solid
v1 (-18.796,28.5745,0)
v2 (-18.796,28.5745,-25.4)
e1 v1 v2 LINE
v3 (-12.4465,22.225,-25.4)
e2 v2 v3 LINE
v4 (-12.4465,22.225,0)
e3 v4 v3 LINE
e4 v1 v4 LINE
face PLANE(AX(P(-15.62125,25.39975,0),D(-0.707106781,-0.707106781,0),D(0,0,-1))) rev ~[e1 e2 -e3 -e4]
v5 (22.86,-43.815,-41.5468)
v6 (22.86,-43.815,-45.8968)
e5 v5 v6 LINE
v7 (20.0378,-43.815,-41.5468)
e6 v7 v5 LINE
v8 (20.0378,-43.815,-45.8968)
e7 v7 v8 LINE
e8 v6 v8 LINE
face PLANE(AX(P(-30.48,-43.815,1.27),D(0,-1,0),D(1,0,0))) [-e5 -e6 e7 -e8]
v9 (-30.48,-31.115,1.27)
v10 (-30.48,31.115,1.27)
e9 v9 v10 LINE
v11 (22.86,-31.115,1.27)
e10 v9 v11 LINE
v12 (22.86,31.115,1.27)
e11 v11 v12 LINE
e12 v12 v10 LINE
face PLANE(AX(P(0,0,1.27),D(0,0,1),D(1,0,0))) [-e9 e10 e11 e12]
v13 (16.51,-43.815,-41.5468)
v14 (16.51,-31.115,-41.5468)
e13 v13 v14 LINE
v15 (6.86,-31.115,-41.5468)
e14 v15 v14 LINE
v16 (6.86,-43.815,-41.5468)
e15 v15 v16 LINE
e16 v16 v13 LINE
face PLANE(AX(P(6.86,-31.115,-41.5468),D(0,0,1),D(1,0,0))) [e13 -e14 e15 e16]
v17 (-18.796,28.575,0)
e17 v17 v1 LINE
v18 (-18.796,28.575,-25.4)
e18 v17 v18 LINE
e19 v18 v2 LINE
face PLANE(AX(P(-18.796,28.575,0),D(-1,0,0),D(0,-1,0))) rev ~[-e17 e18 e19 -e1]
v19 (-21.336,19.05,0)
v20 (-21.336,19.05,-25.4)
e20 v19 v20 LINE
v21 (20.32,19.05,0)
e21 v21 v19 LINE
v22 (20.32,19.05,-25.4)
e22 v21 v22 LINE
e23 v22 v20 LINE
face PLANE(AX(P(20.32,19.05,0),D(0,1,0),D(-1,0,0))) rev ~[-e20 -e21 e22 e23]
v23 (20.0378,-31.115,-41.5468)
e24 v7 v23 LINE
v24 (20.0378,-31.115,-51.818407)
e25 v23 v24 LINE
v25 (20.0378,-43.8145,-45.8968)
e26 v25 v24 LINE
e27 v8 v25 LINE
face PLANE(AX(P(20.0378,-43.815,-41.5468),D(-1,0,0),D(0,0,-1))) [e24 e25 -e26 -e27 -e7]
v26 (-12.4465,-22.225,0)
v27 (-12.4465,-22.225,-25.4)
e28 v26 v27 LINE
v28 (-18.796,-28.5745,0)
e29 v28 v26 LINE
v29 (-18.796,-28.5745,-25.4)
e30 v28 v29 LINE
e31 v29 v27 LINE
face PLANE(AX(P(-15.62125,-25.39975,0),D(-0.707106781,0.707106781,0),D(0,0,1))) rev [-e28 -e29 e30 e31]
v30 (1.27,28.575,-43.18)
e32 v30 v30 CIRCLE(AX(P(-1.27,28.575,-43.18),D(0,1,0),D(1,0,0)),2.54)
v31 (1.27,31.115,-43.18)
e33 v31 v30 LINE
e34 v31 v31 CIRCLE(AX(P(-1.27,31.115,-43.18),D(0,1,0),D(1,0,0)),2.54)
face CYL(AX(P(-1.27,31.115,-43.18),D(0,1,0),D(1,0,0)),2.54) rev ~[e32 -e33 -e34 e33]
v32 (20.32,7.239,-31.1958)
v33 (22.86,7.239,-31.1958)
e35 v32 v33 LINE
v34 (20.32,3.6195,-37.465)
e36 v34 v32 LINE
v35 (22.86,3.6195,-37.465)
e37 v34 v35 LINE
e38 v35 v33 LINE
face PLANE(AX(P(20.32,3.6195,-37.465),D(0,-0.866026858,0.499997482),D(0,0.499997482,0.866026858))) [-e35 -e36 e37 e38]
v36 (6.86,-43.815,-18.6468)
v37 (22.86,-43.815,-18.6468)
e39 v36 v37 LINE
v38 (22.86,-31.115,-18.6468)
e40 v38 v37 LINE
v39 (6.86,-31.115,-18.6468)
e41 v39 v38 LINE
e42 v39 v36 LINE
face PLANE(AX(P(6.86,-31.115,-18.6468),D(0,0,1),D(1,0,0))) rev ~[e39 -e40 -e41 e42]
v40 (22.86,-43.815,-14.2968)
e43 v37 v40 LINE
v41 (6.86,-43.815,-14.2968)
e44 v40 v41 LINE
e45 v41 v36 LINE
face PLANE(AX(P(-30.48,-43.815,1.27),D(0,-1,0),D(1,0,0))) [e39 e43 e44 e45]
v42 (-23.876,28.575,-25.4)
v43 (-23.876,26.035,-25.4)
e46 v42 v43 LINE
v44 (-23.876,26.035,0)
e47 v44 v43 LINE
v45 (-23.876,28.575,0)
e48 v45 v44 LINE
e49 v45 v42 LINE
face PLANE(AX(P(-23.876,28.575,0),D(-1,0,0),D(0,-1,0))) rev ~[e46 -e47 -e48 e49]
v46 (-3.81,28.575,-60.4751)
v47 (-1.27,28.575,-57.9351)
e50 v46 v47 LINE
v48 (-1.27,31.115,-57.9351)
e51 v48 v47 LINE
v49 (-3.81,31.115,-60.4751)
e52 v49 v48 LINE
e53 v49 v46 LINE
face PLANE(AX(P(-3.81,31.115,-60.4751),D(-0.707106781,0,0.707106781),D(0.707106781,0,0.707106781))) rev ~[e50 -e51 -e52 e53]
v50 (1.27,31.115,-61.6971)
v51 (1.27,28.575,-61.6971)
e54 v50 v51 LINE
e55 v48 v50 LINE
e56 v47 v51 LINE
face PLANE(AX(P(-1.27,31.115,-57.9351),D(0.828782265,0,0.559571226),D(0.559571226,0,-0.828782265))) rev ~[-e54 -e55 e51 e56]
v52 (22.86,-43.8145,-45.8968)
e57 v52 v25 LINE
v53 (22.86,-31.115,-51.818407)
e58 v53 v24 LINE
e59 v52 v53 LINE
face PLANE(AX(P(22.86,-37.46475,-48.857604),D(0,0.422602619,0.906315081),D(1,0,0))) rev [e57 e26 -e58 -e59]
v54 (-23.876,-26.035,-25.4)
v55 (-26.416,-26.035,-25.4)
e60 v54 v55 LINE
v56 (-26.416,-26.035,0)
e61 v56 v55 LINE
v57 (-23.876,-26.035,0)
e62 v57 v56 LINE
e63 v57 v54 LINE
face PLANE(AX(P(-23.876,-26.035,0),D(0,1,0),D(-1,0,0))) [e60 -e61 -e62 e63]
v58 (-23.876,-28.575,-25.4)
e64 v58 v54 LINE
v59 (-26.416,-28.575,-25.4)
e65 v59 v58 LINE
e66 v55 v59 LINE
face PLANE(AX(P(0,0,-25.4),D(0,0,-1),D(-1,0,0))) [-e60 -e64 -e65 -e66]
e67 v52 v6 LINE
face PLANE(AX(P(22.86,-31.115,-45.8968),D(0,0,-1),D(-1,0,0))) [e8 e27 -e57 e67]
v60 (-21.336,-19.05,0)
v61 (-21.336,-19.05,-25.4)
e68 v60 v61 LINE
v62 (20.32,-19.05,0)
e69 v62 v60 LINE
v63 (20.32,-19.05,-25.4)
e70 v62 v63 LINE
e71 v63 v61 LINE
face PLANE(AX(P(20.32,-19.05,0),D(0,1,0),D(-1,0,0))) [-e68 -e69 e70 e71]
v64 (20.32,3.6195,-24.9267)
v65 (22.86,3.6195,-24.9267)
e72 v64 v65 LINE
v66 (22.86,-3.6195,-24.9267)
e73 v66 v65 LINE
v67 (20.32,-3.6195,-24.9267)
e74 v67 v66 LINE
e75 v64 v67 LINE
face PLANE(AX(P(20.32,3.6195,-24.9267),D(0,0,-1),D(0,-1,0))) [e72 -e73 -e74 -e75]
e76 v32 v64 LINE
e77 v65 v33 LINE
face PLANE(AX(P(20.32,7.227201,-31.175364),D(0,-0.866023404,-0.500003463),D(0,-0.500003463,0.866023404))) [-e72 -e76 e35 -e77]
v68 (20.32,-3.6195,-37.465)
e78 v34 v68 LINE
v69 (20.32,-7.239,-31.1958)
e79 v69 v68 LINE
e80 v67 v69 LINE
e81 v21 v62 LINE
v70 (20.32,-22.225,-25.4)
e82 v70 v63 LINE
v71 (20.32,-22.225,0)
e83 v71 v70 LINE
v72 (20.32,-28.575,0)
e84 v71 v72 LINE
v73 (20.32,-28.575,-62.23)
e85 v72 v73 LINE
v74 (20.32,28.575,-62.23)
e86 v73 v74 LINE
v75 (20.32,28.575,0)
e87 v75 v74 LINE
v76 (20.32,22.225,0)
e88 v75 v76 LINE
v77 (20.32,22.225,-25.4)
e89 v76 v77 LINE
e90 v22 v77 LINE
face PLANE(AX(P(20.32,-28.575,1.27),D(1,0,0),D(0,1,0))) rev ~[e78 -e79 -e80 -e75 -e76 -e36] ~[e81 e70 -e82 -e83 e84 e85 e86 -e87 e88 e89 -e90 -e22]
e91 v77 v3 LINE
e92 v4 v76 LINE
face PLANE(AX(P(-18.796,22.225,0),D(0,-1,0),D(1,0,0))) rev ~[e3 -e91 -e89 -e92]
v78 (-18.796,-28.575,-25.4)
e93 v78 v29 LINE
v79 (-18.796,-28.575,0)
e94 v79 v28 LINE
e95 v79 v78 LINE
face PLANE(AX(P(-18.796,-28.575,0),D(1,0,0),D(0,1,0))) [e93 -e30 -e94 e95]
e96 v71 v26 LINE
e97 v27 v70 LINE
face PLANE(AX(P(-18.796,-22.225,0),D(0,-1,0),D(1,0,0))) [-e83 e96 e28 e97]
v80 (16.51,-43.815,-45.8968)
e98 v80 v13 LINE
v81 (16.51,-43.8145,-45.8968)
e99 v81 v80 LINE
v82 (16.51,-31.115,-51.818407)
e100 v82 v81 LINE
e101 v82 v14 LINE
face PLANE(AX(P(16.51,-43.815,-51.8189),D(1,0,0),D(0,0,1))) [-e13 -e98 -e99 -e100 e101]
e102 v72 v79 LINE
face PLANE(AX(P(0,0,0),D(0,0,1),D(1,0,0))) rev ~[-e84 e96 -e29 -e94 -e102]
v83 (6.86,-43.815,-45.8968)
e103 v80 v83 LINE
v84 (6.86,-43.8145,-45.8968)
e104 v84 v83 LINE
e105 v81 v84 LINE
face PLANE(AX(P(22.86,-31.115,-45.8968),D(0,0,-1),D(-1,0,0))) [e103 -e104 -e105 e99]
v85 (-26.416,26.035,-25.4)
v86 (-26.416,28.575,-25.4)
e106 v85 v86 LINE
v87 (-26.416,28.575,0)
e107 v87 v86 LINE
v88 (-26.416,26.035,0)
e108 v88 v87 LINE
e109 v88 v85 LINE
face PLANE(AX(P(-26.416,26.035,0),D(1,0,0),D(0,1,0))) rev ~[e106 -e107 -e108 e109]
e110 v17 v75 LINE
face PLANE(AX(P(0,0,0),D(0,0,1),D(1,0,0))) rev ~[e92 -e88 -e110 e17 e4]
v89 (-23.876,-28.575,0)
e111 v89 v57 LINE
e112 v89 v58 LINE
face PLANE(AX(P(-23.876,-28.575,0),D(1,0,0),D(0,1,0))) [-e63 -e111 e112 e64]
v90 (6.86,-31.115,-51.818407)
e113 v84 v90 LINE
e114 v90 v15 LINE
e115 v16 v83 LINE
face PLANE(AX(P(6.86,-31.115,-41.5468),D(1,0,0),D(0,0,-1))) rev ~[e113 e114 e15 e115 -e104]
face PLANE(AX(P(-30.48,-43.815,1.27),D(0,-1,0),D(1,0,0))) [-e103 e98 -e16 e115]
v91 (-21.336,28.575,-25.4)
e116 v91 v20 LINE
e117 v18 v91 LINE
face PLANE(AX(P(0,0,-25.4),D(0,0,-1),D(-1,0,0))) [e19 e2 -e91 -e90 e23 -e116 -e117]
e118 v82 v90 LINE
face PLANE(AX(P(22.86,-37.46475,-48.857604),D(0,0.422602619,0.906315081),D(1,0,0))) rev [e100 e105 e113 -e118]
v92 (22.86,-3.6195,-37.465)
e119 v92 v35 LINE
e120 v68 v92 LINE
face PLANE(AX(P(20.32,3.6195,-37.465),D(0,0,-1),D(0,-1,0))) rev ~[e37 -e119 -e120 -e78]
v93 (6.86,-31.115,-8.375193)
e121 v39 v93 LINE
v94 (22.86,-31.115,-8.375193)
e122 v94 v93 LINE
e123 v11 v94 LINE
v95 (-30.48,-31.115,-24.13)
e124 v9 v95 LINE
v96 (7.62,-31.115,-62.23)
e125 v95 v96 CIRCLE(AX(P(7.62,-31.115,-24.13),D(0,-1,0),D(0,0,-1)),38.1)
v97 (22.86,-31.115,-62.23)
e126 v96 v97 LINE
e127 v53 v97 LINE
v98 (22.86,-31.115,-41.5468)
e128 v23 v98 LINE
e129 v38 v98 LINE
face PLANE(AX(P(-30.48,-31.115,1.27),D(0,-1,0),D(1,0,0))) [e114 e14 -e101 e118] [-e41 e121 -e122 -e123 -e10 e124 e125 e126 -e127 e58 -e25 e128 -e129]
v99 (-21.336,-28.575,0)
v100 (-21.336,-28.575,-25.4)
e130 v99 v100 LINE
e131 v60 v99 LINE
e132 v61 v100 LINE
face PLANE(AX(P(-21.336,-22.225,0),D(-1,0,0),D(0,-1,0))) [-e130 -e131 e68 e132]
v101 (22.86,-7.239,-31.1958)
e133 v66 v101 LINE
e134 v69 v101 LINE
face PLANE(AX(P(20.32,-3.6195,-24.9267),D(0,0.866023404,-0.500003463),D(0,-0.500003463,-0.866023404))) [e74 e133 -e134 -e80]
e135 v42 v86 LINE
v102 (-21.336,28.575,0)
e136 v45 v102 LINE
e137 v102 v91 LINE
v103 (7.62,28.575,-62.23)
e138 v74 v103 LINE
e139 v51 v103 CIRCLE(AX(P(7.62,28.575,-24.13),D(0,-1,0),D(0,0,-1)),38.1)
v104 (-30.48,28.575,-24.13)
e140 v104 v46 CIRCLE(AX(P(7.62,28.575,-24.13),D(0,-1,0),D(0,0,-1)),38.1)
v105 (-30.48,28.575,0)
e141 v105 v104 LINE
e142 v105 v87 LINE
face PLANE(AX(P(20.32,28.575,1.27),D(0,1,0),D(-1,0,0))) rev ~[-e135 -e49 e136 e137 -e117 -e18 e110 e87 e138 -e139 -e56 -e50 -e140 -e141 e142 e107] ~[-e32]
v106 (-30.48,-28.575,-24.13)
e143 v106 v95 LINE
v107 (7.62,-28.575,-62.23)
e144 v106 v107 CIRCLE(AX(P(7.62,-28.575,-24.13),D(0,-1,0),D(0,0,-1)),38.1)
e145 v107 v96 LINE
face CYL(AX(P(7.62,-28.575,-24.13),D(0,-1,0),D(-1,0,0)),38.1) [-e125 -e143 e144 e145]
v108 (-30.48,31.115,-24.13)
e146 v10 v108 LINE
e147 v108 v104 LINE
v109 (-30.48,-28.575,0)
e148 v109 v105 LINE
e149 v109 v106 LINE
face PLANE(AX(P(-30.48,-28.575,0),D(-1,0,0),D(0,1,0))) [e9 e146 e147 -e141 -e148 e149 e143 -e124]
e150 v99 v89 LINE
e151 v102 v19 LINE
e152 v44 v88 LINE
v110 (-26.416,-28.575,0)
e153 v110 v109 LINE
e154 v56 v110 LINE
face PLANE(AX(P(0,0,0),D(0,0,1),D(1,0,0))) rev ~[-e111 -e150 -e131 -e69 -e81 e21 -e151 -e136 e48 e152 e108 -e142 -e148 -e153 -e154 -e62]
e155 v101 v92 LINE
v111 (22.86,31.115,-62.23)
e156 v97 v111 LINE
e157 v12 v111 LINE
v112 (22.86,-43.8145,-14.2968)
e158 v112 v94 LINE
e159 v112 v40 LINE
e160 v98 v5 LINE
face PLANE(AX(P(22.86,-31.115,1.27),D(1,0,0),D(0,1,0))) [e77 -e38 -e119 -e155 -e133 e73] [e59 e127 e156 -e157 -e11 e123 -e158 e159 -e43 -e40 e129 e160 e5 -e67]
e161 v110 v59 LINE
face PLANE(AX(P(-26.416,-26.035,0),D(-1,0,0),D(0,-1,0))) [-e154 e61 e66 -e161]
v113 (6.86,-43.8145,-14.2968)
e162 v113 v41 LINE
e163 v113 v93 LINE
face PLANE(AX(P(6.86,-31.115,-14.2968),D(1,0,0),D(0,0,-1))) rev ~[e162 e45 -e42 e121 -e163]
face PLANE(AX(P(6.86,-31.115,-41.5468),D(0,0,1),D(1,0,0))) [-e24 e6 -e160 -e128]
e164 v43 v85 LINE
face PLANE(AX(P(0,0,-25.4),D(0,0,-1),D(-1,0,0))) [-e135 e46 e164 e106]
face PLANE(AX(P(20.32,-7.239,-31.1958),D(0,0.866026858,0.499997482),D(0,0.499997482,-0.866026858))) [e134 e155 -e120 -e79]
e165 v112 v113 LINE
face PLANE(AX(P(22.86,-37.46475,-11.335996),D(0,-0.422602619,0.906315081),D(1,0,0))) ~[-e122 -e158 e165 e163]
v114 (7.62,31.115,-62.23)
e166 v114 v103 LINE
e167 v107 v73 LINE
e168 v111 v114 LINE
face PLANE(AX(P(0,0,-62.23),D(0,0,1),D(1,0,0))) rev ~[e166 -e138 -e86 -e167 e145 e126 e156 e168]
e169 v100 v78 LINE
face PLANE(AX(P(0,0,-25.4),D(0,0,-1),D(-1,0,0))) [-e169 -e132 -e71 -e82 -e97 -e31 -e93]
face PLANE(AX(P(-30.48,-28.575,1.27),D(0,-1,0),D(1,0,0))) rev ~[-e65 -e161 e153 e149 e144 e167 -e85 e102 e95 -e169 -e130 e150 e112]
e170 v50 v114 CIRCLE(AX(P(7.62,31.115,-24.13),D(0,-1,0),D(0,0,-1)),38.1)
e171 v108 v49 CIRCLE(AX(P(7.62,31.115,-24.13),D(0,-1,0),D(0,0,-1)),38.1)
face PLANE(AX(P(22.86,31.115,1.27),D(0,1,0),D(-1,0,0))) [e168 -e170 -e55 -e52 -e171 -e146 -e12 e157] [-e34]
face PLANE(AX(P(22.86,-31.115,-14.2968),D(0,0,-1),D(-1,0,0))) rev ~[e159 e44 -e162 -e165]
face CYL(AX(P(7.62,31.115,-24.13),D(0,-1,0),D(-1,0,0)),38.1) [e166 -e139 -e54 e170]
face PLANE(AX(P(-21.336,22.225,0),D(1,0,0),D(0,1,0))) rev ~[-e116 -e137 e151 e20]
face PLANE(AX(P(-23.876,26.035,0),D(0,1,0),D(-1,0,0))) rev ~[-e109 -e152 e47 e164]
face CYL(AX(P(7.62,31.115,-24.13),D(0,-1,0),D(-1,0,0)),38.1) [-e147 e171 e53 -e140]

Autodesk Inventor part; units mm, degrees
ref_plane "YZ Plane" through (0, 0, 0) normal (1, 0, 0) x (0, 1, 0)
ref_plane "XZ Plane" through (0, 0, 0) normal (0, 1, 0) x (-1, 0, 0)
ref_plane "XY Plane" through (0, 0, 0) normal (0, 0, 1) x (1, 0, 0)
sketch "Sketch1" plane through (0, 0, 0) normal (0, 0, 1) x (1, 0, 0)
  line L0 (-30.48, 28.575) -> (20.32, 28.575)
  line L1 (20.32, 28.575) -> (20.32, -28.575)
  line L2 (20.32, -28.575) -> (-30.48, -28.575)
  line L3 (-30.48, -28.575) -> (-30.48, 28.575)
  line L4 (-25.4, 28.575) -> (25.4, -28.575) construction
  line L5 (25.4, 28.575) -> (-25.4, -28.575) construction
  line L6 (0, 0) -> (0, -19.5531)
  dimension "d0" = 50.8
  dimension "d1" = 57.15
  dimension "d2" = 20.32
  dimension "d3" = 0
extrude "Extrusion1" add sketch "Sketch1" along normal blind 1.27
sketch "Sketch2" plane through (0, 0, 1.27) normal (0, 0, 1) x (1, 0, 0)
  line L0 (-30.48, -28.575) -> (20.32, -28.575) projected
  line L1 (20.32, -28.575) -> (20.32, 28.575) projected
  line L2 (20.32, 28.575) -> (-30.48, 28.575) projected
  line L3 (-30.48, 28.575) -> (-30.48, -28.575) projected
  line L4 (20.32, 28.575) -> (-30.48, 28.575) projected
  line L5 (-30.48, -28.575) -> (20.32, -28.575) projected
  line L6 (20.32, 28.575) -> (-30.48, 28.575)
  line L7 (-30.48, 28.575) -> (-30.48, -28.575)
  line L8 (-30.48, -28.575) -> (20.32, -28.575)
  line L9 (20.32, -28.575) -> (20.32, 28.575)
  line L10 (22.86, 31.115) -> (-30.48, 31.115)
  line L11 (-30.48, -31.115) -> (22.86, -31.115)
  line L12 (22.86, -31.115) -> (22.86, 31.115)
  line L13 (-30.48, 31.115) -> (-30.48, 28.575)
  line L14 (-30.48, 28.575) -> (-30.48, -28.575) projected
  line L15 (-30.48, -28.575) -> (-30.48, -31.115)
  point P0 (0, 0)
  point P1 (-30.48, 28.575)
  dimension "d6" = 2.54
  dimension "d7" = 2.54
  dimension "d8" = 2.54
extrude "Extrusion2" add sketch "Sketch2" against normal blind 63.5 contours L0 L1 L2 L13 L10 L12 L11 L15
fillet "Fillet1" radius 38.1 2 edges at (-30.48, -29.845, -62.23) (-30.48, 29.845, -62.23)
sketch "Sketch3" plane through (0, 0, 0) normal (0, 0, -1) x (-1, 0, 0)
  line L0 (30.48, -28.575) -> (-20.32, -28.575) projected
  line L1 (30.48, 28.575) -> (30.48, -28.575) projected
  line L2 (-20.32, 28.575) -> (30.48, 28.575) projected
  line L3 (-20.32, -28.575) -> (-20.32, 28.575) projected
  line L4 (-7.62, -31.115) -> (30.48, -31.115) projected
  line L5 (30.48, -31.115) -> (30.48, -28.575) projected
  line L6 (30.48, -28.575) -> (-7.62, -28.575) projected
  line L7 (-7.62, -28.575) -> (-7.62, -31.115) projected
  line L8 (30.48, 31.115) -> (-7.62, 31.115) projected
  line L9 (-7.62, 31.115) -> (-7.62, 28.575) projected
  line L10 (30.48, 28.575) -> (30.48, 28.575) projected
  line L11 (30.48, 28.575) -> (30.48, 31.115) projected
  line L12 (-20.32, 28.575) -> (30.48, 28.575) projected
  line L13 (30.48, 28.575) -> (30.48, 28.575) projected
  line L14 (30.48, -28.575) -> (-20.32, -28.575) projected
  line L15 (26.416, -28.575) -> (23.876, -28.575)
  line L16 (23.876, -28.575) -> (23.876, -26.035)
  line L17 (23.876, -26.035) -> (26.416, -26.035)
  line L18 (26.416, -26.035) -> (26.416, -28.575)
  line L19 (21.336, -28.575) -> (18.796, -28.575)
  line L20 (18.796, -28.575) -> (18.796, -22.225)
  line L21 (18.796, -22.225) -> (21.336, -22.225)
  line L22 (21.336, -22.225) -> (21.336, -28.575)
  line L23 (-20.32, 28.575) -> (30.48, 28.575) projected
  line L24 (26.416, 28.575) -> (23.876, 28.575)
  line L25 (23.876, 28.575) -> (23.876, 26.035)
  line L26 (23.876, 26.035) -> (26.416, 26.035)
  line L27 (26.416, 26.035) -> (26.416, 28.575)
  line L28 (21.336, 28.575) -> (18.796, 28.575)
  line L29 (18.796, 28.575) -> (18.796, 22.225)
  line L30 (18.796, 22.225) -> (21.336, 22.225)
  line L31 (21.336, 22.225) -> (21.336, 28.575)
  point P0 (0, 0)
  point P1 (30.48, -26.035)
  point P2 (23.876, -28.575)
  point P3 (30.48, 26.035)
  point P4 (23.876, 28.575)
  point P5 (21.336, 28.575)
  point P6 (18.796, 28.575)
  dimension "d12" = 2.54
  dimension "d13" = 2.54
  dimension "d14" = 2.54
  dimension "d15" = 6.35
  dimension "d16" = 2.54
  dimension "d17" = 2.54
  dimension "d18" = 2.54
  dimension "d19" = 2.54
  dimension "d20" = 6.35
  dimension "d21" = 2.54
  dimension "d57" = 6.35
  dimension "d58" = 6.35
  dimension "d59" = 4.064
extrude "Extrusion3" add sketch "Sketch3" along normal blind 25.4 contours L0 L16 L17 L18 | L27 L26 L25 L2 | L0 L20 L21 L22 | L31 L30 L29 L2
sketch "Sketch4" plane through (-30.48, -31.115, 1.27) normal (0, -1, 0) x (1, 0, 0)
  arc A0 (35.54, -42.8168) -> (35.14, -42.4168) centre (35.14, -42.8168) ccw projected
  line L0 (35.54, -42.8168) -> (35.54, -47.1668) projected
  line L1 (35.54, -47.1668) -> (37.14, -47.1668) projected
  line L2 (37.14, -47.1668) -> (37.14, -42.8168) projected
  arc A1 (37.54, -42.4168) -> (37.14, -42.8168) centre (37.54, -42.8168) ccw projected
  line L3 (37.54, -42.4168) -> (53.14, -42.4168) projected
  line L4 (53.14, -42.4168) -> (53.14, -20.3168) projected
  line L5 (53.14, -20.3168) -> (37.54, -20.3168) projected
  arc A2 (37.14, -19.9168) -> (37.54, -20.3168) centre (37.54, -19.9168) ccw projected
  line L6 (37.14, -19.9168) -> (37.14, -15.5668) projected
  line L7 (37.14, -15.5668) -> (35.54, -15.5668) projected
  line L8 (35.54, -15.5668) -> (35.54, -19.9168) projected
  arc A3 (35.14, -20.3168) -> (35.54, -19.9168) centre (35.14, -19.9168) ccw projected
  line L9 (35.14, -20.3168) -> (31.04, -20.3168) projected
  line L10 (31.04, -20.3168) -> (31.04, -35.0805) projected
  spline S0 degree 3 poles (31.04, -35.0805) (31.04, -35.2107) (31.032, -35.3398) (31.0199, -35.4684) (31.0078, -35.597) (30.9913, -35.725) (30.9724, -35.8527) (30.9346, -36.1082) (30.8875, -36.3608) (30.84, -36.6168) knots 0 0 0 0 0.00039 0.00039 0.00039 0.000781 0.000781 0.000781 0.001562 0.001562 0.001562 0.001562 projected
  spline S1 degree 3 poles (30.84, -36.6168) (30.8871, -36.8706) (30.9346, -37.1252) (30.9724, -37.3806) (30.9913, -37.5084) (31.0077, -37.6365) (31.0199, -37.7651) (31.032, -37.8937) (31.04, -38.0228) (31.04, -38.153) knots -0.000015 -0.000015 -0.000015 -0.000015 0.000759 0.000759 0.000759 0.001147 0.001147 0.001147 0.001534 0.001534 0.001534 0.001534 projected
  line L11 (31.04, -38.153) -> (31.04, -42.4168) projected
  line L12 (31.04, -42.4168) -> (35.14, -42.4168) projected
  line L13 (37.34, -42.8168) -> (37.34, -47.1668) projected
  line L14 (37.34, -15.5668) -> (37.34, -19.9168) projected
  line L15 (37.34, -42.8168) -> (53.34, -42.8168)
  line L16 (53.34, -42.8168) -> (53.34, -47.1668)
  line L17 (53.34, -47.1668) -> (37.34, -47.1668)
  line L18 (37.34, -47.1668) -> (37.34, -42.8168)
  line L19 (37.34, -19.9168) -> (53.34, -19.9168)
  line L20 (53.34, -19.9168) -> (53.34, -15.5668)
  line L21 (53.34, -15.5668) -> (37.34, -15.5668)
  line L22 (37.34, -15.5668) -> (37.34, -19.9168)
  line L23 (53.34, 0) -> (53.34, -63.5) projected
  point P0 (30.48, -1.27)
  dimension "d33" = 0
  dimension "d34" = 0
extrude "Extrusion4" add sketch "Sketch4" along normal blind 12.7 contours L15 L16 L17 L13 | L19 L14 L21 L20
sketch "Sketch5" plane through (20.32, -28.575, 0) normal (-1, 0, 0) x (0, 0, 1)
  line L0 (0, 0) -> (0, 57.15) projected
  line L1 (0, 57.15) -> (-62.23, 57.15) projected
  line L2 (-62.23, 0) -> (-62.23, 57.15) projected
  line L3 (0, 0) -> (-62.23, 0) projected
  line L4 (-62.23, 59.69) -> (-62.23, -2.54) projected
  line L5 (-62.23, 28.575) -> (-2.2668, 28.575)
  line L6 (-31.1958, 28.575) -> (-31.115, 57.15)
  line L7 (-31.115, 57.15) -> (-37.465, 57.15)
  line L8 (0, 57.15) -> (-62.23, 57.15) projected
  line L9 (-37.465, 57.15) -> (-37.465, 0)
  line L10 (-62.23, 0) -> (-24.13, 0) projected
  line L11 (-37.465, 32.1945) -> (-31.1958, 35.814)
  line L12 (-31.1958, 35.814) -> (-24.9267, 32.1945)
  line L13 (-24.9267, 32.1945) -> (-24.9267, 24.9555)
  line L14 (-24.9267, 24.9555) -> (-31.1958, 21.336)
  line L15 (-31.1958, 21.336) -> (-37.465, 24.9555)
  line L16 (-37.465, 24.9555) -> (-37.465, 32.1945)
  point P0 (0, 28.575)
  point P1 (-37.465, 28.575)
  point P2 (-37.465, 32.1945)
  point P3 (-37.465, 24.9555)
  dimension "d28" = 57.15
  dimension "d30" = 6.35
  dimension "d67" = 7.239
extrude "Extrusion5" cut sketch "Sketch5" against normal blind 2.54 contours L12 L13 L5 L6 | L6 L5 L9 L11 L12 | L9 L5 L13 L14 L15
sketch "Sketch6" plane through (-30.48, 31.115, 1.27) normal (0, 1, 0) x (1, 0, 0)
  circle A0 centre (29.21, 44.45) radius 2.54
  line L0 (53.34, 0) -> (53.34, 63.5) projected
  line L1 (53.34, 0) -> (0, 0) projected
  point P0 (30.48, 1.27)
  dimension "d38" = 5.08
  dimension "d41" = 24.13
  dimension "d42" = 44.45
extrude "Extrusion6" cut sketch "Sketch6" against normal blind 2.54
chamfer "Chamfer3" distance 12.7 angle 25 1 edges at (14.86, -31.115, -45.8968) measured on face at (17.5267, -39.5817, -45.8968)
chamfer "Chamfer4" distance 12.7 angle 25 1 edges at (14.86, -31.115, -14.2968) measured on face at (17.5267, -39.5817, -14.2968)
sketch "Sketch8" plane through (-30.48, -43.815, 1.27) normal (0, -1, 0) x (1, 0, 0)
  line L0 (53.34, -42.8168) -> (37.34, -42.8168) projected
  line L1 (50.5178, -53.0889) -> (46.99, -53.0889)
  line L2 (46.99, -53.0889) -> (46.99, -42.8168)
  line L3 (46.99, -42.8168) -> (50.5178, -42.8168)
  line L4 (50.5178, -42.8168) -> (50.5178, -53.0889)
  line L5 (37.34, -53.0889) -> (53.34, -53.0889) projected
  line L6 (53.34, -53.0889) -> (53.34, -47.1668) projected
  point P0 (30.48, -1.27)
  dimension "d52" = 2.8222
  dimension "d53" = 6.35
extrude "Extrusion7" cut sketch "Sketch8" against normal blind 12.7
sketch "Sketch9" plane through (0, 0, 0) normal (0, 0, -1) x (-1, 0, 0)
  line L0 (18.796, -22.225) -> (21.336, -22.225) projected
  line L1 (21.336, -22.225) -> (21.336, -28.575) projected
  line L2 (23.876, -28.575) -> (21.336, -28.575) projected
  line L3 (23.876, -28.575) -> (23.876, -26.035) projected
  line L4 (23.876, -26.035) -> (26.416, -26.035) projected
  line L5 (26.416, -26.035) -> (26.416, -28.575) projected
  line L6 (30.48, -28.575) -> (26.416, -28.575) projected
  line L7 (30.48, 28.575) -> (30.48, -28.575) projected
  line L8 (26.416, 28.575) -> (30.48, 28.575) projected
  line L9 (26.416, 28.575) -> (26.416, 26.035) projected
  line L10 (26.416, 26.035) -> (23.876, 26.035) projected
  line L11 (23.876, 26.035) -> (23.876, 28.575) projected
  line L12 (21.336, 28.575) -> (23.876, 28.575) projected
  line L13 (21.336, 28.575) -> (21.336, 22.225) projected
  line L14 (21.336, 22.225) -> (18.796, 22.225) projected
  line L15 (-20.32, 28.575) -> (18.796, 28.575) projected
  line L16 (-20.32, -28.575) -> (-20.32, 28.575) projected
  line L17 (18.796, -28.575) -> (-20.32, -28.575) projected
  line L18 (18.796, -28.575) -> (18.796, -22.225) projected
  line L19 (18.796, 22.225) -> (18.796, 28.575) projected
  line L20 (-20.32, -28.575) -> (-20.32, 28.575) projected
  line L21 (21.336, -22.225) -> (-20.32, -22.225)
  line L22 (-20.32, -22.225) -> (-20.32, -19.05)
  line L23 (-20.32, -19.05) -> (21.336, -19.05)
  line L24 (21.336, -19.05) -> (21.336, -22.225)
  line L25 (21.336, 22.225) -> (-20.32, 22.225)
  line L26 (-20.32, 22.225) -> (-20.32, 19.05)
  line L27 (-20.32, 19.05) -> (21.336, 19.05)
  line L28 (21.336, 19.05) -> (21.336, 22.225)
  point P0 (0, 0)
  point P1 (-20.32, -22.225)
  dimension "d56" = 6.35
  dimension "d60" = 3.175
  dimension "d61" = 3.175
extrude "Extrusion8" add sketch "Sketch9" along normal blind 25.4 contours L21 L16 L23 L24 L0 | L16 L25 L14 L28 L27
chamfer "Chamfer5" distance 6.35 angle 45 2 edges at (-18.796, -22.225, -12.7) (-18.796, 22.225, -12.7)
sketch "Sketch10" plane through (-30.48, 31.115, 1.27) normal (0, 1, 0) x (1, 0, 0)
  circle A0 centre (29.21, 44.45) radius 2.54 projected
  arc A1 (38.1, 63.5) -> (0, 25.4) centre (38.1, 25.4) ccw projected
  line L0 (0, 0) -> (0, 25.4) projected
  line L1 (53.34, 0) -> (0, 0) projected
  line L2 (53.34, 0) -> (53.34, 63.5) projected
  line L3 (38.1, 63.5) -> (53.34, 63.5) projected
  arc A2 (38.1, 63.5) -> (0, 25.4) centre (38.1, 25.4) ccw projected
  line L4 (26.67, 61.7451) -> (29.21, 59.2051)
  line L5 (26.67, 61.7451) -> (30.2621, 61.7451) construction
  line L6 (29.21, 59.2051) -> (31.75, 62.9671)
  arc A3 (31.75, 62.9671) -> (26.67, 61.7451) centre (38.1, 25.4) ccw
  point P0 (30.48, 1.27)
  dimension "d68" = 45
extrude "Extrusion9" cut sketch "Sketch10" against normal blind 2.54 contours L6 L4 A1
properties part number "Base_3DPrint"
